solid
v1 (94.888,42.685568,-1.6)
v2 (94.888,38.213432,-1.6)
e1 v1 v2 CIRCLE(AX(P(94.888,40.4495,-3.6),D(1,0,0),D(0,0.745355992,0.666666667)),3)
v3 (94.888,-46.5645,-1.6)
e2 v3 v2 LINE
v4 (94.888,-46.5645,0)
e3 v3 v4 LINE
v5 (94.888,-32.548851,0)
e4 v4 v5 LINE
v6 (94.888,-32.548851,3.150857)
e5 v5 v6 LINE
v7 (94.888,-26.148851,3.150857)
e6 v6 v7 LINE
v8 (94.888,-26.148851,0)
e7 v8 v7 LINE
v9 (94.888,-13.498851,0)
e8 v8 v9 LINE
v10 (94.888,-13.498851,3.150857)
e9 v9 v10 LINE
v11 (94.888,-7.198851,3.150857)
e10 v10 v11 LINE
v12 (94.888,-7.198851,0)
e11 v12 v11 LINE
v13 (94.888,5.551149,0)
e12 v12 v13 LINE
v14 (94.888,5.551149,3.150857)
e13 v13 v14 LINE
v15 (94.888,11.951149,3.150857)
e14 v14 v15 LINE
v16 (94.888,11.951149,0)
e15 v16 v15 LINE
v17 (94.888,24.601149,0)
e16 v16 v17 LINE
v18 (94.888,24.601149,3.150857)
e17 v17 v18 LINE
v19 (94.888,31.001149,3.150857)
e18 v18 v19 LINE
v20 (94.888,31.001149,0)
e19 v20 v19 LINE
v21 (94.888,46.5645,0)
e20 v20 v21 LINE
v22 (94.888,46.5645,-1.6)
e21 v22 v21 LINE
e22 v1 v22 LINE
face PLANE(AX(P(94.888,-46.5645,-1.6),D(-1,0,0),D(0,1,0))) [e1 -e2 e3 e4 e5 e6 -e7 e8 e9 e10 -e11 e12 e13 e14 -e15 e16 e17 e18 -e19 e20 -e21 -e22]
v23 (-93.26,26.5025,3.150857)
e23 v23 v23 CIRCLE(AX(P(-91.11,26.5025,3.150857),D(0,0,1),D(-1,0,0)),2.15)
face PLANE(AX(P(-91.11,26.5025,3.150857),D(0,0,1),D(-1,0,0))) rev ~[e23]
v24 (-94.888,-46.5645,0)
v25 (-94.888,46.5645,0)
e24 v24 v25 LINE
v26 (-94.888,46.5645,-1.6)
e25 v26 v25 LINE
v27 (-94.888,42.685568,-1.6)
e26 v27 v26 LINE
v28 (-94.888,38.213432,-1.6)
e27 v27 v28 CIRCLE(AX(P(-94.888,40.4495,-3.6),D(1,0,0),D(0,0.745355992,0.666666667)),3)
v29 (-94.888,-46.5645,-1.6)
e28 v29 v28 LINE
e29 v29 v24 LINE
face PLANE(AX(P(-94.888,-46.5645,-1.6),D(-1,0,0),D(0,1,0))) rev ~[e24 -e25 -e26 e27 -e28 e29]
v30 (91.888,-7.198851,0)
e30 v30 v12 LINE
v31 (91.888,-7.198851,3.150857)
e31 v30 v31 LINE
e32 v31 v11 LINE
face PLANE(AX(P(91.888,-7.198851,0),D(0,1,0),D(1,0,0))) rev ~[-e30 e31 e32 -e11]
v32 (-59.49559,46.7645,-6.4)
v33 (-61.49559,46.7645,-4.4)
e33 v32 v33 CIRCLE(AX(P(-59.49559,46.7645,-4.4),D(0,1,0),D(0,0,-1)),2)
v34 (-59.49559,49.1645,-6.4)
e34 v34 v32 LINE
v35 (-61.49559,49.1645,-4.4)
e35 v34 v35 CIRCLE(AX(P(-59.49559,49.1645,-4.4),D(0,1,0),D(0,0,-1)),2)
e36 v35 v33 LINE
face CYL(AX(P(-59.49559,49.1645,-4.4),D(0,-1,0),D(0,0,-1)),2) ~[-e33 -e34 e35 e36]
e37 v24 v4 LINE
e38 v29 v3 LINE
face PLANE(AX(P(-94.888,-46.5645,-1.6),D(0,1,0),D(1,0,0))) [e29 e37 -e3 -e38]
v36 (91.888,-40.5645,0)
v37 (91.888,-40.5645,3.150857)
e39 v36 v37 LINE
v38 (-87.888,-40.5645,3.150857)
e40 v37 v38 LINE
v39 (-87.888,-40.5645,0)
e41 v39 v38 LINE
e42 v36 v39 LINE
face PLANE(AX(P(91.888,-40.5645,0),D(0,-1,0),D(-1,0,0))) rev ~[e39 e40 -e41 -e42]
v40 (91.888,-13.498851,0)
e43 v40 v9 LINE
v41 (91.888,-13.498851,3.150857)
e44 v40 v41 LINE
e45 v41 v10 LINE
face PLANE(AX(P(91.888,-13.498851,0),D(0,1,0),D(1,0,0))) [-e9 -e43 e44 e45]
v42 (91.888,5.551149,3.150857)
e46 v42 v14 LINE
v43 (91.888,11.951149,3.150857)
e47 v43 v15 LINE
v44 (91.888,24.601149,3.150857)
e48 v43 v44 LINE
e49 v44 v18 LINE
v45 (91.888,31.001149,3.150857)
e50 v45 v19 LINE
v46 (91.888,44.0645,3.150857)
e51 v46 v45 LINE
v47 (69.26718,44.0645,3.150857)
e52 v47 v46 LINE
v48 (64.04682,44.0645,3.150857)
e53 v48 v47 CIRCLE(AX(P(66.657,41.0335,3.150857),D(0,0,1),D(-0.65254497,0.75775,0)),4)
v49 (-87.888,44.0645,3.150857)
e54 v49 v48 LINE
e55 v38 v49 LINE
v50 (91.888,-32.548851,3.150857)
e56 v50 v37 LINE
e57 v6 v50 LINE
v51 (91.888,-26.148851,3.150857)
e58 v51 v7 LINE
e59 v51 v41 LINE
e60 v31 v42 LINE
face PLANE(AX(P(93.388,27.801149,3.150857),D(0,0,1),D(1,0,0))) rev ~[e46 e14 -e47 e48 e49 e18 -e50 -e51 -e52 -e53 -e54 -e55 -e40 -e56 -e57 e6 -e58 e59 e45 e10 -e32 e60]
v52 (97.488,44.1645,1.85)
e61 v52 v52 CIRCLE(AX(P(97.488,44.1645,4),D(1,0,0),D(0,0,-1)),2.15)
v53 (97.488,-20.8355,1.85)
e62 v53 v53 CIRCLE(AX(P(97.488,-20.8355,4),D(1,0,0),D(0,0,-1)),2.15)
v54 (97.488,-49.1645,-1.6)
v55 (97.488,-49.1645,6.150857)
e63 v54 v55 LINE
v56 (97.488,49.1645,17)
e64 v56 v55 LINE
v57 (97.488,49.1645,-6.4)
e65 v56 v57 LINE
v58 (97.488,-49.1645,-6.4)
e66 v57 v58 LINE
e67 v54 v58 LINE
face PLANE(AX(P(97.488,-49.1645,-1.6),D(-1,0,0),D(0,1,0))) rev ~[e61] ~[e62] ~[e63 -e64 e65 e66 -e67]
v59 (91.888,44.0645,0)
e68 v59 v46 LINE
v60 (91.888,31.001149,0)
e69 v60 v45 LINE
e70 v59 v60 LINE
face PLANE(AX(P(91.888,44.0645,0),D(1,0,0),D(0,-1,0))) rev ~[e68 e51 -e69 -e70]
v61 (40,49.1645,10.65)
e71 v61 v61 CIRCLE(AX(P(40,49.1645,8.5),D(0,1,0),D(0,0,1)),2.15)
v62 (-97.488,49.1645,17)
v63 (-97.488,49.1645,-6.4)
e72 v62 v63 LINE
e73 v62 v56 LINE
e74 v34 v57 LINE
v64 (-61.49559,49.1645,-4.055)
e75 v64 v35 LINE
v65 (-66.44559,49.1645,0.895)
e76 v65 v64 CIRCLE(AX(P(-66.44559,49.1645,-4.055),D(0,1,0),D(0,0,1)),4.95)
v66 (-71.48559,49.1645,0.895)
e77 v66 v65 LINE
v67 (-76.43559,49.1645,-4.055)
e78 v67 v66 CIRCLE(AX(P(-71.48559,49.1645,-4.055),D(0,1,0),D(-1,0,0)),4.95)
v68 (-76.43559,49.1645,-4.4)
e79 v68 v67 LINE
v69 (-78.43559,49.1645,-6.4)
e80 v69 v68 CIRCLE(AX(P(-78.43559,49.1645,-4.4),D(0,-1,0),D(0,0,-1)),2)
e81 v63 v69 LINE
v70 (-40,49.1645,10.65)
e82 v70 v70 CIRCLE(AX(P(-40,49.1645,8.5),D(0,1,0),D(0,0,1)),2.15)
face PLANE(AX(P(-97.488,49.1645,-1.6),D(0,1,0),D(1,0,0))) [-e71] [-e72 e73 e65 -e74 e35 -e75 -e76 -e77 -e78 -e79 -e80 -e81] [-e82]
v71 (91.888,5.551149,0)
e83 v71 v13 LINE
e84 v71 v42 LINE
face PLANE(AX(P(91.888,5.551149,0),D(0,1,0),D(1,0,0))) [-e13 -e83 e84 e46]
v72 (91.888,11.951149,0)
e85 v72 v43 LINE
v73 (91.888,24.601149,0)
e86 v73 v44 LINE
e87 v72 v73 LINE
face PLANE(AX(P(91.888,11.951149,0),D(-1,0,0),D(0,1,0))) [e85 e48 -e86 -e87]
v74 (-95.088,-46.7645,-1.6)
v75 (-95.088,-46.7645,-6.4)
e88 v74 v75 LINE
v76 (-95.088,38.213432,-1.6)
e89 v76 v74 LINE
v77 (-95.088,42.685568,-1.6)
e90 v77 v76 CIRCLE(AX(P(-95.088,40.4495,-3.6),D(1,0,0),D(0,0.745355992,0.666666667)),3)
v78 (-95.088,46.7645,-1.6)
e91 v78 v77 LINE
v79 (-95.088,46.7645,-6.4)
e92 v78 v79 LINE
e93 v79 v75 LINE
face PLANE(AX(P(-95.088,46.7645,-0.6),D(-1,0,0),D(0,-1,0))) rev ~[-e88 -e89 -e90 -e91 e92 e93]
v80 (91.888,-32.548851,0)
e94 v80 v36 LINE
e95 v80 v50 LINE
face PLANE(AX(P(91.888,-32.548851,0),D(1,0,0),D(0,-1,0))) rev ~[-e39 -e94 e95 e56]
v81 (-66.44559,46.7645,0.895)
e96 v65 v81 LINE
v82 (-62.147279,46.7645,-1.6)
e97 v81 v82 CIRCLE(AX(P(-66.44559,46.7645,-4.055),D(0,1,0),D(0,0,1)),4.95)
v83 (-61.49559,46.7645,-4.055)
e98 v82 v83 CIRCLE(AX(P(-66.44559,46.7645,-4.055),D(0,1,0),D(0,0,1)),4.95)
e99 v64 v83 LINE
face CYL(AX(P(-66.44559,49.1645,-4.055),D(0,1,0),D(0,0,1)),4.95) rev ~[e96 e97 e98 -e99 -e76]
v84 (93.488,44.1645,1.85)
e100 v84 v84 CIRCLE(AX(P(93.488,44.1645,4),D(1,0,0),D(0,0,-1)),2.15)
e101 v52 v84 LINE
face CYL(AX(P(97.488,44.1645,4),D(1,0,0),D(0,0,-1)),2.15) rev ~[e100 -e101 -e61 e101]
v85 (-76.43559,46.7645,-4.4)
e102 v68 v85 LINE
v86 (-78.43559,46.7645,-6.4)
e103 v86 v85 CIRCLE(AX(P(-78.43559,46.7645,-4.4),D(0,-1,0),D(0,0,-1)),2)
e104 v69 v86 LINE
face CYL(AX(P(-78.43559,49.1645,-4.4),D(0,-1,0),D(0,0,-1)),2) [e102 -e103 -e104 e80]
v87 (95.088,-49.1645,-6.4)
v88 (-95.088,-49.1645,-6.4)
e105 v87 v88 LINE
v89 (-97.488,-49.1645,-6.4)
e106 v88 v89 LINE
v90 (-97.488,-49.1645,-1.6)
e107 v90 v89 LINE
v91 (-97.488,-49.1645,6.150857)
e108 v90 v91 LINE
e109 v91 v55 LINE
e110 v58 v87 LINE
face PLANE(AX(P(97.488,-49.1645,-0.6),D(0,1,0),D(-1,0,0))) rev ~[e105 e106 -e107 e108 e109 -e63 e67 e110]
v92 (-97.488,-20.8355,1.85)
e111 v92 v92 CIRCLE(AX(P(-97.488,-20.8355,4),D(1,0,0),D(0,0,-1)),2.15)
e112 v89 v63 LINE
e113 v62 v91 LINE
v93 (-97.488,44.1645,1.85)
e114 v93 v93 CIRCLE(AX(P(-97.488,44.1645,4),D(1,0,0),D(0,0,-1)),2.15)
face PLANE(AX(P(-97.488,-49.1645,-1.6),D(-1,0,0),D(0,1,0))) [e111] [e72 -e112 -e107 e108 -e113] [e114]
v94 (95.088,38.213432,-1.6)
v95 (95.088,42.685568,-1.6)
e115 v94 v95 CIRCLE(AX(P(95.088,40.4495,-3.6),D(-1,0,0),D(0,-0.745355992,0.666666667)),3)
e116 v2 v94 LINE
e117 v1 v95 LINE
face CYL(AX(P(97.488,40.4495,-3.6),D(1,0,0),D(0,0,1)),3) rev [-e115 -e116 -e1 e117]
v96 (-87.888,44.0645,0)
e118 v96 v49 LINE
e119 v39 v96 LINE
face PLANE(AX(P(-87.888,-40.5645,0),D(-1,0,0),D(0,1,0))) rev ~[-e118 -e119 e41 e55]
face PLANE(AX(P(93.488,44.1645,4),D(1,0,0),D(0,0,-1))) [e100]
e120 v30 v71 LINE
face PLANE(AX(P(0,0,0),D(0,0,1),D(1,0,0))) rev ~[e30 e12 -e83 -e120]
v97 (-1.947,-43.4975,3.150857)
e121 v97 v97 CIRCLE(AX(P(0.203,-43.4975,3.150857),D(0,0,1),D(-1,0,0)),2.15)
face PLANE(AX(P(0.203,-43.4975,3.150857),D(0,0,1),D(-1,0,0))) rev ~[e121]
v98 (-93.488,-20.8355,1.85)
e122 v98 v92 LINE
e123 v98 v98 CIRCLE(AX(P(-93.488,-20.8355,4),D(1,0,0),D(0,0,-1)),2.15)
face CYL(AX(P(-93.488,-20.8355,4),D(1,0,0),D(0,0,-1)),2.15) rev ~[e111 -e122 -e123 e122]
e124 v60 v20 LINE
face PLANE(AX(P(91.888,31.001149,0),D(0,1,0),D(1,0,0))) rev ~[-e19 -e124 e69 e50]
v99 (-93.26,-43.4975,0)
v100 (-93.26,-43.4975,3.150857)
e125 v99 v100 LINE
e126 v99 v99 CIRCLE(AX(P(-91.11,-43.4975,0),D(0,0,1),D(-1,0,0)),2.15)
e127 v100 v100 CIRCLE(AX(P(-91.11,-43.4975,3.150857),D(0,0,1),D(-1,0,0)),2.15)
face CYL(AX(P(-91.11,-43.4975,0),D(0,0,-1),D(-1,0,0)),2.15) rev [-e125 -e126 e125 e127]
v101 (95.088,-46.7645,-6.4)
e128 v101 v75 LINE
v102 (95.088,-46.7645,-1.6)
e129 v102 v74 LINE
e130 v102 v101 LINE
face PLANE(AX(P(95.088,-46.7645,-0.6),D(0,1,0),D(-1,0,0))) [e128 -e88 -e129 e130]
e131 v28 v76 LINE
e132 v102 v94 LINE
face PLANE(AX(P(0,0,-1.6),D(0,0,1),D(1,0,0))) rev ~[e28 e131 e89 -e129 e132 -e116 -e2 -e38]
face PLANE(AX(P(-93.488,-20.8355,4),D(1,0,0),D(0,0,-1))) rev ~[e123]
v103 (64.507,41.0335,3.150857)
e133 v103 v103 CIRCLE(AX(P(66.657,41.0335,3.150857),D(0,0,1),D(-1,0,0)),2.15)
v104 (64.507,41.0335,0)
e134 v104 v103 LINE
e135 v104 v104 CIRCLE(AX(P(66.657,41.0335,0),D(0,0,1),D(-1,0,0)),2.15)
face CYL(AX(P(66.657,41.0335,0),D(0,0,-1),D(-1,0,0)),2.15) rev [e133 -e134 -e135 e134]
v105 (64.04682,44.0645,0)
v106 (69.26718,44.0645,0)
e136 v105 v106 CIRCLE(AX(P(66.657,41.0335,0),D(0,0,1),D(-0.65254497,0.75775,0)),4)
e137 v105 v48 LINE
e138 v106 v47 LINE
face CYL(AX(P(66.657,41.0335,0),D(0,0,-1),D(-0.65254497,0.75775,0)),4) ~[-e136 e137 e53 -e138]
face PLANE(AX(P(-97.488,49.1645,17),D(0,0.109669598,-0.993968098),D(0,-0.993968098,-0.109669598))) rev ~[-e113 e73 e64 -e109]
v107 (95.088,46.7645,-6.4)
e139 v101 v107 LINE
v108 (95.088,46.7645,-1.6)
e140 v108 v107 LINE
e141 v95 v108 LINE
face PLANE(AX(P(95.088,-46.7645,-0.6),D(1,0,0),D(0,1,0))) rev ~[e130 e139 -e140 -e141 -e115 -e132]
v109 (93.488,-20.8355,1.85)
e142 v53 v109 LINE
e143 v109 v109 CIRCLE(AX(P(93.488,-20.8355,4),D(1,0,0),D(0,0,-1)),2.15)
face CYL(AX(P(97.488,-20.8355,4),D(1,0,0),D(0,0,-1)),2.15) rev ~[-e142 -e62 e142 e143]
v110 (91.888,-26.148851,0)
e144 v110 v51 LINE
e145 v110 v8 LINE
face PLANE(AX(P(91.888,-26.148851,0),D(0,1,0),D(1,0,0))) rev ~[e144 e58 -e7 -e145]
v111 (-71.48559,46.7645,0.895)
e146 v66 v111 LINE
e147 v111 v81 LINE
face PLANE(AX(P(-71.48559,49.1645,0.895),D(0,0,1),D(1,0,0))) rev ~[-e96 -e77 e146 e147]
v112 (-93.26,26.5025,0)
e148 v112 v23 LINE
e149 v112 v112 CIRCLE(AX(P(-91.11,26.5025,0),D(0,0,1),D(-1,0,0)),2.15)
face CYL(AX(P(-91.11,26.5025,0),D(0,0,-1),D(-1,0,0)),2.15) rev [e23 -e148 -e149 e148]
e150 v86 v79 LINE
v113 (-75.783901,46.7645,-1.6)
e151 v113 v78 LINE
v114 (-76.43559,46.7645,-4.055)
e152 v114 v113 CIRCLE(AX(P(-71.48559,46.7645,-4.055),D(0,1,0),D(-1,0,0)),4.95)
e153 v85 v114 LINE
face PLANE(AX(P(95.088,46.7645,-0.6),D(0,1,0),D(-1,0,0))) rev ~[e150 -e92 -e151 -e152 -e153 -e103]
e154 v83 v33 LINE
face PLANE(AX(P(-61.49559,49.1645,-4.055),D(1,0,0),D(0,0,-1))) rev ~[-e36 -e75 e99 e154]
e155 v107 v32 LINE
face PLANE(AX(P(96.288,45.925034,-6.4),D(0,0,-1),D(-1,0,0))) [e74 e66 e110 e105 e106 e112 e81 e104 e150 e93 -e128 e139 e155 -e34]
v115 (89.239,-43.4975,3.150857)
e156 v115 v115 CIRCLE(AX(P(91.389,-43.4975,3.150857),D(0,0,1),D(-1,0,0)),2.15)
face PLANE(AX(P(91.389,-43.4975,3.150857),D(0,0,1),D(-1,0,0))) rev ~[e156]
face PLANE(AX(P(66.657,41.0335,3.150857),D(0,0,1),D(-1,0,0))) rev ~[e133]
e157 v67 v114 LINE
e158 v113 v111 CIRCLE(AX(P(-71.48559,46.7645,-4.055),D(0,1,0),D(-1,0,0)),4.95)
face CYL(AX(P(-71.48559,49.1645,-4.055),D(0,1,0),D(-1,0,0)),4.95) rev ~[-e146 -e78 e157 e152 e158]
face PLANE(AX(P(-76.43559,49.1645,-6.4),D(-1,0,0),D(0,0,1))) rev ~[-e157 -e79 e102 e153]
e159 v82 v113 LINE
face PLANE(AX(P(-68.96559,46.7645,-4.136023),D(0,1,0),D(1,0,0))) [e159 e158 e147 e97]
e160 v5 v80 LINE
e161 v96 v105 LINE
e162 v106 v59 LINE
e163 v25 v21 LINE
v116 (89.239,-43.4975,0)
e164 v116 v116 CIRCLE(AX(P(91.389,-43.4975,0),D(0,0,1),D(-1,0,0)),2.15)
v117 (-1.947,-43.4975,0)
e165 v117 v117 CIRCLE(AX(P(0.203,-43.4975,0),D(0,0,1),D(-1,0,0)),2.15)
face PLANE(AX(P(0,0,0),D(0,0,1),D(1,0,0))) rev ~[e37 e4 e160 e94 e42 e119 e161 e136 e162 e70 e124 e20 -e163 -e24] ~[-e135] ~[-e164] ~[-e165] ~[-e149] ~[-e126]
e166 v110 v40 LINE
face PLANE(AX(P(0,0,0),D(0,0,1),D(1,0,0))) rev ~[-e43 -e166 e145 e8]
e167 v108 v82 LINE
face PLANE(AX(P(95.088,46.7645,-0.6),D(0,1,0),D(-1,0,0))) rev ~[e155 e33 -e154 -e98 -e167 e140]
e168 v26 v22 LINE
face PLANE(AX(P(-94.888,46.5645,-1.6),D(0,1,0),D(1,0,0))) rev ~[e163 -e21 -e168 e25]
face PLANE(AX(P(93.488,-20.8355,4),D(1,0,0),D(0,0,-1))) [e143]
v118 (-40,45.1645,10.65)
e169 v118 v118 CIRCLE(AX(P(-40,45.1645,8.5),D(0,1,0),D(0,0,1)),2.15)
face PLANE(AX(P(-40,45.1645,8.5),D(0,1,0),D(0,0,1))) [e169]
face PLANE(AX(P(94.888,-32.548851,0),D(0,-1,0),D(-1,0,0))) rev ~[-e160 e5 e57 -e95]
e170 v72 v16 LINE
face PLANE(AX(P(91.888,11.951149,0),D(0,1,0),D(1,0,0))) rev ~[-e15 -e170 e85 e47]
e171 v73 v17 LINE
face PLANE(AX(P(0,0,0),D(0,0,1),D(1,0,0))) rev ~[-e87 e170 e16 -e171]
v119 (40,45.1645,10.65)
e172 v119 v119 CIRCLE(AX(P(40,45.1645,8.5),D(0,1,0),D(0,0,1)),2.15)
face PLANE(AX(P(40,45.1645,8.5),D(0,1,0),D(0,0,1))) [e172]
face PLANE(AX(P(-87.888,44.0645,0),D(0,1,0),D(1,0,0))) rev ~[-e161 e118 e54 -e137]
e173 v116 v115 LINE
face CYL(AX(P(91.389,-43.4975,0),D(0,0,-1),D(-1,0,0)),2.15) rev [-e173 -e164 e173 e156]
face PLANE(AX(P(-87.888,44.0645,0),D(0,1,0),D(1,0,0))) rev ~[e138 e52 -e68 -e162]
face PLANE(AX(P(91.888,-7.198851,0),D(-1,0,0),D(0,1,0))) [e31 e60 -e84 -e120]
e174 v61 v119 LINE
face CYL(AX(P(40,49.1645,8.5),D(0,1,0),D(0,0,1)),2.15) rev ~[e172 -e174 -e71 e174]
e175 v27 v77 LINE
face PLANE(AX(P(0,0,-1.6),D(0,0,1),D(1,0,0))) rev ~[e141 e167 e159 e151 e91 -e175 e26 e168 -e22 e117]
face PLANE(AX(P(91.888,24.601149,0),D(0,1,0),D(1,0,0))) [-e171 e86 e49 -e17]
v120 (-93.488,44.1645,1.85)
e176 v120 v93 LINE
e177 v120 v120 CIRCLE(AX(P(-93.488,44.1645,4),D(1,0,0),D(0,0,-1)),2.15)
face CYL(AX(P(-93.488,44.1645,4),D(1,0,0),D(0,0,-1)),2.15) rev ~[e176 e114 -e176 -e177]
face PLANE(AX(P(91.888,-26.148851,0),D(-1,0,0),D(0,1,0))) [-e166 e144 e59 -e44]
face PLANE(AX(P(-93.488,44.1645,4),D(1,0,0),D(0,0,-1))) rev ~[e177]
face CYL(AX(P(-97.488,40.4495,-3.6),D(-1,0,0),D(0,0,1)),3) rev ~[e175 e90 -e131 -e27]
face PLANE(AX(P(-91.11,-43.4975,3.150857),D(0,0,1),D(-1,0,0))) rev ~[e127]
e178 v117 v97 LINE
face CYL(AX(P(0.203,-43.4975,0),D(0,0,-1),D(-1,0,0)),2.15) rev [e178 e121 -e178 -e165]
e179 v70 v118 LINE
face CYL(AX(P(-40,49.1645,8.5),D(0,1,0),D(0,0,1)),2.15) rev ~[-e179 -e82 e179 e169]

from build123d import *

# Parameters (mm, degrees)
SKETCH1_R           = 2.15
SKETCH1_W           = 3
SKETCH1_H           = 12.65
SKETCH1_H_2         = 12.75
BOSS_EXTRUDE1_DEPTH = 3.15085709
BOSS_EXTRUDE2_START = 3.150857
SKETCH1_3_R         = 2.15
SKETCH1_3_W         = 3
SKETCH1_3_H         = 6.4
SKETCH1_3_H_2       = 12.65
SKETCH1_3_H_3       = 12.75
SKETCH1_3_H_4       = 6.3
BOSS_EXTRUDE2_DEPTH = 3
SKETCH1_4_W         = 194.976
SKETCH1_4_H         = 98.329
SKETCH1_4_W_2       = 189.776
SKETCH1_4_H_2       = 93.129
BOSS_EXTRUDE4_DEPTH = 6.15085709
BOSS_EXTRUDE5_DEPTH = 194.976
SKETCH5_R           = 2.15
CUT_EXTRUDE2_DEPTH  = 4
SKETCH6_R           = 2.15
CUT_EXTRUDE3_DEPTH  = 4
CUT_EXTRUDE4_START  = -190.976
SKETCH6_2_R         = 2.15
CUT_EXTRUDE4_DEPTH  = 4
BOSS_EXTRUDE6_START = -1.6
SKETCH1_5_W         = 194.976
SKETCH1_5_H         = 98.329
SKETCH1_5_W_2       = 189.776
SKETCH1_5_H_2       = 93.129
BOSS_EXTRUDE6_DEPTH = 1.6
SKETCH7_R           = 3
CUT_EXTRUDE5_DEPTH  = 2.6
CUT_EXTRUDE6_START  = -194.976
SKETCH7_2_R         = 3
CUT_EXTRUDE6_DEPTH  = 2.6
BOSS_EXTRUDE7_START = -1
SKETCH9_W           = 2.4
SKETCH9_H           = 87.377932023
SKETCH9_H_2         = 4.078932023
SKETCH9_W_2         = 190.176
SKETCH9_H_3         = 2.4
SKETCH9_H_4         = 4.472135954
BOSS_EXTRUDE7_DEPTH = 5.8
CUT_EXTRUDE7_DEPTH  = 2.4
FILLET1_R           = 2


with BuildPart() as part:
    # Sketch1 → Boss-Extrude1 (new body)
    # profile 1 of 5: a face of its own
    with BuildSketch(Plane.XY):
        Polygon((94.888, 46.5645), (-94.888, 46.5645), (-94.888, -46.5645), (94.888, -46.5645), (94.888, -32.548850543), (91.888, -32.548850543), (91.888, -40.5645), (-87.888, -40.5645), (-87.888, 44.0645), (64.046820121, 44.0645), (69.267179879, 44.0645), (91.888, 44.0645), (91.888, 31.001149457), (94.888, 31.001149457), align=None)
        with Locations(Location((-91.11, -43.4975, 0), (0, 0, 180))):
            Circle(SKETCH1_R, mode=Mode.SUBTRACT)
        with Locations(Location((0.203, -43.4975, 0), (0, 0, 180))):
            Circle(SKETCH1_R, mode=Mode.SUBTRACT)
        with Locations(Location((91.389, -43.4975, 0), (0, 0, 180))):
            Circle(SKETCH1_R, mode=Mode.SUBTRACT)
        with Locations(Location((-91.11, 26.5025, 0), (0, 0, 180))):
            Circle(SKETCH1_R, mode=Mode.SUBTRACT)
    # profile 2 of 5: a face of its own
    with BuildSketch(Plane.XY):
        with Locations((93.388, 18.276149457)):
            Rectangle(SKETCH1_W, SKETCH1_H)
    # profile 3 of 5: a face of its own
    with BuildSketch(Plane.XY):
        with Locations((93.388, -0.823850543)):
            Rectangle(SKETCH1_W, SKETCH1_H_2)
    # profile 4 of 5: a face of its own
    with BuildSketch(Plane.XY):
        with Locations((93.388, -19.823850543)):
            Rectangle(SKETCH1_W, SKETCH1_H)
    # profile 5 of 5: a face of its own
    with BuildSketch(Plane.XY):
        with BuildLine():
            ThreePointArc((64.046820121, 44.0645), (66.657, 37.0335), (69.267179879, 44.0645))
            Line((69.267179879, 44.0645), (64.046820121, 44.0645))
        make_face()
        with Locations(Location((66.657, 41.0335, 0), (0, 0, 180))):
            Circle(SKETCH1_R, mode=Mode.SUBTRACT)
    extrude(amount=BOSS_EXTRUDE1_DEPTH)

    # Sketch1<3> → Boss-Extrude2 (add)
    # profile 1 of 15: a face of its own
    with BuildSketch(Plane.XY.offset(BOSS_EXTRUDE2_START)):
        Polygon((94.888, 46.5645), (-94.888, 46.5645), (-94.888, -46.5645), (94.888, -46.5645), (94.888, -32.548850543), (91.888, -32.548850543), (91.888, -40.5645), (-87.888, -40.5645), (-87.888, 44.0645), (64.046820121, 44.0645), (69.267179879, 44.0645), (91.888, 44.0645), (91.888, 31.001149457), (94.888, 31.001149457), align=None)
        with Locations(Location((-91.11, -43.4975, 0), (0, 0, 180))):
            Circle(SKETCH1_3_R, mode=Mode.SUBTRACT)
        with Locations(Location((0.203, -43.4975, 0), (0, 0, 180))):
            Circle(SKETCH1_3_R, mode=Mode.SUBTRACT)
        with Locations(Location((91.389, -43.4975, 0), (0, 0, 180))):
            Circle(SKETCH1_3_R, mode=Mode.SUBTRACT)
        with Locations(Location((-91.11, 26.5025, 0), (0, 0, 180))):
            Circle(SKETCH1_3_R, mode=Mode.SUBTRACT)
    # profile 2 of 15: a face of its own
    with BuildSketch(Plane.XY.offset(BOSS_EXTRUDE2_START)):
        with Locations((93.388, 8.751149457)):
            Rectangle(SKETCH1_3_W, SKETCH1_3_H)
    # profile 3 of 15: a face of its own
    with BuildSketch(Plane.XY.offset(BOSS_EXTRUDE2_START)):
        with Locations((93.388, 18.276149457)):
            Rectangle(SKETCH1_3_W, SKETCH1_3_H_2)
    # profile 4 of 15: a face of its own
    with BuildSketch(Plane.XY.offset(BOSS_EXTRUDE2_START)):
        with BuildLine():
            Line((91.888, 24.601149457), (91.888, 31.001149457))
            Line((91.888, 31.001149457), (91.888, 44.0645))
            Line((91.888, 44.0645), (69.267179879, 44.0645))
            ThreePointArc((69.267179879, 44.0645), (66.657, 37.0335), (64.046820121, 44.0645))
            Line((64.046820121, 44.0645), (-87.888, 44.0645))
            Line((-87.888, 44.0645), (-87.888, -40.5645))
            Line((-87.888, -40.5645), (91.888, -40.5645))
            Line((91.888, -40.5645), (91.888, -32.548850543))
            Line((91.888, -32.548850543), (91.888, -26.148850543))
            Line((91.888, -26.148850543), (91.888, -13.498850543))
            Line((91.888, -13.498850543), (91.888, -7.198850543))
            Line((91.888, -7.198850543), (91.888, 5.551149457))
            Line((91.888, 5.551149457), (91.888, 11.951149457))
            Line((91.888, 11.951149457), (91.888, 24.601149457))
        make_face()
    # profile 5 of 15: a face of its own
    with BuildSketch(Plane.XY.offset(BOSS_EXTRUDE2_START)):
        with Locations((93.388, -0.823850543)):
            Rectangle(SKETCH1_3_W, SKETCH1_3_H_3)
    # profile 6 of 15: a face of its own
    with BuildSketch(Plane.XY.offset(BOSS_EXTRUDE2_START)):
        with Locations((93.388, -10.348850543)):
            Rectangle(SKETCH1_3_W, SKETCH1_3_H_4)
    # profile 7 of 15: a face of its own
    with BuildSketch(Plane.XY.offset(BOSS_EXTRUDE2_START)):
        with Locations((93.388, -19.823850543)):
            Rectangle(SKETCH1_3_W, SKETCH1_3_H_2)
    # profile 8 of 15: a face of its own
    with BuildSketch(Plane.XY.offset(BOSS_EXTRUDE2_START)):
        with Locations((93.388, -29.348850543)):
            Rectangle(SKETCH1_3_W, SKETCH1_3_H)
    # profile 9 of 15: a face of its own
    with BuildSketch(Plane.XY.offset(BOSS_EXTRUDE2_START)):
        with Locations((93.388, 27.801149457)):
            Rectangle(SKETCH1_3_W, SKETCH1_3_H)
    # profile 10 of 15: a face of its own
    with BuildSketch(Plane.XY.offset(BOSS_EXTRUDE2_START)):
        with BuildLine():
            ThreePointArc((64.046820121, 44.0645), (66.657, 37.0335), (69.267179879, 44.0645))
            Line((69.267179879, 44.0645), (64.046820121, 44.0645))
        make_face()
        with Locations(Location((66.657, 41.0335, 0), (0, 0, 180))):
            Circle(SKETCH1_3_R, mode=Mode.SUBTRACT)
    # profile 11 of 15: a face of its own
    with BuildSketch(Plane.XY.offset(BOSS_EXTRUDE2_START)):
        with Locations(Location((66.657, 41.0335, 0), (0, 0, 180))):
            Circle(SKETCH1_3_R)
    # profile 12 of 15: a face of its own
    with BuildSketch(Plane.XY.offset(BOSS_EXTRUDE2_START)):
        with Locations(Location((91.389, -43.4975, 0), (0, 0, 180))):
            Circle(SKETCH1_3_R)
    # profile 13 of 15: a face of its own
    with BuildSketch(Plane.XY.offset(BOSS_EXTRUDE2_START)):
        with Locations(Location((0.203, -43.4975, 0), (0, 0, 180))):
            Circle(SKETCH1_3_R)
    # profile 14 of 15: a face of its own
    with BuildSketch(Plane.XY.offset(BOSS_EXTRUDE2_START)):
        with Locations(Location((-91.11, -43.4975, 0), (0, 0, 180))):
            Circle(SKETCH1_3_R)
    # profile 15 of 15: a face of its own
    with BuildSketch(Plane.XY.offset(BOSS_EXTRUDE2_START)):
        with Locations(Location((-91.11, 26.5025, 0), (0, 0, 180))):
            Circle(SKETCH1_3_R)
    extrude(amount=BOSS_EXTRUDE2_DEPTH)

    # Sketch1<4> → Boss-Extrude4 (add)
    with BuildSketch(Plane.XY):
        Rectangle(SKETCH1_4_W, SKETCH1_4_H)
        Rectangle(SKETCH1_4_W_2, SKETCH1_4_H_2, mode=Mode.SUBTRACT)
    extrude(amount=BOSS_EXTRUDE4_DEPTH)

    # Sketch4 → Boss-Extrude5 (add)
    with BuildSketch(Plane.ZY.offset(97.488)):
        Polygon((6.15085709, 49.1645), (17, 49.1645), (6.15085709, -49.1645), align=None)
    extrude(amount=-BOSS_EXTRUDE5_DEPTH)

    # Sketch5 → Cut-Extrude2 (cut)
    with BuildSketch(Plane(origin=(0, 49.1645, 0), x_dir=(1, 0, 0), z_dir=(0, 1, 0))):
        with Locations(Location((-40, -8.5, 0), (0, 0, 270))):
            Circle(SKETCH5_R)
        with Locations(Location((40, -8.5, 0), (0, 0, 270))):
            Circle(SKETCH5_R)
    extrude(amount=-CUT_EXTRUDE2_DEPTH, mode=Mode.SUBTRACT)

    # Sketch6 → Cut-Extrude3 (cut)
    with BuildSketch(Plane(origin=(97.488, 0, 0), x_dir=(0, 0, -1), z_dir=(1, 0, 0))):
        with Locations((-4, 44.1645)):
            Circle(SKETCH6_R)
        with Locations((-4, -20.8355)):
            Circle(SKETCH6_R)
    extrude(amount=-CUT_EXTRUDE3_DEPTH, mode=Mode.SUBTRACT)

    # Sketch6<2> → Cut-Extrude4 (cut)
    with BuildSketch(Plane(origin=(97.488, 0, 0), x_dir=(0, 0, -1), z_dir=(1, 0, 0)).offset(CUT_EXTRUDE4_START)):
        with Locations((-4, 44.1645)):
            Circle(SKETCH6_2_R)
        with Locations((-4, -20.8355)):
            Circle(SKETCH6_2_R)
    extrude(amount=-CUT_EXTRUDE4_DEPTH, mode=Mode.SUBTRACT)

    # Sketch1<5> → Boss-Extrude6 (add)
    with BuildSketch(Plane.XY.offset(BOSS_EXTRUDE6_START)):
        Rectangle(SKETCH1_5_W, SKETCH1_5_H)
        Rectangle(SKETCH1_5_W_2, SKETCH1_5_H_2, mode=Mode.SUBTRACT)
    extrude(amount=BOSS_EXTRUDE6_DEPTH)

    # Sketch7 → Cut-Extrude5 (cut)
    with BuildSketch(Plane.ZY.offset(97.488)):
        with Locations((-3.6, 40.4495)):
            Circle(SKETCH7_R)
    extrude(amount=-CUT_EXTRUDE5_DEPTH, mode=Mode.SUBTRACT)

    # Sketch7<2> → Cut-Extrude6 (cut)
    with BuildSketch(Plane.ZY.offset(97.488).offset(CUT_EXTRUDE6_START)):
        with Locations((-3.6, 40.4495)):
            Circle(SKETCH7_2_R)
    extrude(amount=CUT_EXTRUDE6_DEPTH, mode=Mode.SUBTRACT)

    # Sketch9 → Boss-Extrude7 (add)
    with BuildSketch(Plane(origin=(0, 0, -1.6), x_dir=(-1, 0, 0), z_dir=(0, 0, -1)).offset(BOSS_EXTRUDE7_START)):
        Polygon((-97.488, 49.1645), (-97.488, 42.685567977), (-95.088, 42.685567977), (-95.088, 46.7645), (-95.088, 49.1645), align=None)
        Polygon((-95.088, 49.1645), (-95.088, 46.7645), (95.088, 46.7645), (97.488, 46.7645), (97.488, 49.1645), align=None)
        with Locations((-96.288, -5.475533989)):
            Rectangle(SKETCH9_W, SKETCH9_H)
        with Locations((96.288, 44.725033989)):
            Rectangle(SKETCH9_W, SKETCH9_H_2)
        with Locations((96.288, -5.475533989)):
            Rectangle(SKETCH9_W, SKETCH9_H)
        with Locations((0, -47.9645)):
            Rectangle(SKETCH9_W_2, SKETCH9_H_3)
        with Locations((-96.288, 40.4495)):
            Rectangle(SKETCH9_W, SKETCH9_H_4)
        with Locations((96.288, 40.4495)):
            Rectangle(SKETCH9_W, SKETCH9_H_4)
    extrude(amount=BOSS_EXTRUDE7_DEPTH)

    # Sketch10 → Cut-Extrude7 (cut)
    with BuildSketch(Plane(origin=(0, 49.1645, 0), x_dir=(1, 0, 0), z_dir=(0, 1, 0))):
        with BuildLine():
            Line((-66.44559, 9.005), (-71.48559, 9.005))
            ThreePointArc((-71.48559, 9.005), (-74.024758171, 8.304132264), (-75.844887535, 6.4))
            Line((-75.844887535, 6.4), (-76.43559, 6.4))
            Line((-76.43559, 6.4), (-76.43559, 4.055))
            ThreePointArc((-76.43559, 4.055), (-74.985768567, 0.554821433), (-71.48559, -0.895))
            Line((-71.48559, -0.895), (-66.44559, -0.895))
            ThreePointArc((-66.44559, -0.895), (-62.945411433, 0.554821433), (-61.49559, 4.055))
            Line((-61.49559, 4.055), (-61.49559, 6.4))
            Line((-61.49559, 6.4), (-62.086292465, 6.4))
            ThreePointArc((-62.086292465, 6.4), (-63.906421829, 8.304132264), (-66.44559, 9.005))
        make_face()
    extrude(amount=-CUT_EXTRUDE7_DEPTH, mode=Mode.SUBTRACT)

    # Fillet1
    fillet1_edges = [part.edges().sort_by_distance(p)[0] for p in [
        (-76.43559, 47.9645, -6.4),
        (-61.49559, 47.9645, -6.4),
    ]]
    fillet(fillet1_edges, radius=FILLET1_R)


solid = part.part
